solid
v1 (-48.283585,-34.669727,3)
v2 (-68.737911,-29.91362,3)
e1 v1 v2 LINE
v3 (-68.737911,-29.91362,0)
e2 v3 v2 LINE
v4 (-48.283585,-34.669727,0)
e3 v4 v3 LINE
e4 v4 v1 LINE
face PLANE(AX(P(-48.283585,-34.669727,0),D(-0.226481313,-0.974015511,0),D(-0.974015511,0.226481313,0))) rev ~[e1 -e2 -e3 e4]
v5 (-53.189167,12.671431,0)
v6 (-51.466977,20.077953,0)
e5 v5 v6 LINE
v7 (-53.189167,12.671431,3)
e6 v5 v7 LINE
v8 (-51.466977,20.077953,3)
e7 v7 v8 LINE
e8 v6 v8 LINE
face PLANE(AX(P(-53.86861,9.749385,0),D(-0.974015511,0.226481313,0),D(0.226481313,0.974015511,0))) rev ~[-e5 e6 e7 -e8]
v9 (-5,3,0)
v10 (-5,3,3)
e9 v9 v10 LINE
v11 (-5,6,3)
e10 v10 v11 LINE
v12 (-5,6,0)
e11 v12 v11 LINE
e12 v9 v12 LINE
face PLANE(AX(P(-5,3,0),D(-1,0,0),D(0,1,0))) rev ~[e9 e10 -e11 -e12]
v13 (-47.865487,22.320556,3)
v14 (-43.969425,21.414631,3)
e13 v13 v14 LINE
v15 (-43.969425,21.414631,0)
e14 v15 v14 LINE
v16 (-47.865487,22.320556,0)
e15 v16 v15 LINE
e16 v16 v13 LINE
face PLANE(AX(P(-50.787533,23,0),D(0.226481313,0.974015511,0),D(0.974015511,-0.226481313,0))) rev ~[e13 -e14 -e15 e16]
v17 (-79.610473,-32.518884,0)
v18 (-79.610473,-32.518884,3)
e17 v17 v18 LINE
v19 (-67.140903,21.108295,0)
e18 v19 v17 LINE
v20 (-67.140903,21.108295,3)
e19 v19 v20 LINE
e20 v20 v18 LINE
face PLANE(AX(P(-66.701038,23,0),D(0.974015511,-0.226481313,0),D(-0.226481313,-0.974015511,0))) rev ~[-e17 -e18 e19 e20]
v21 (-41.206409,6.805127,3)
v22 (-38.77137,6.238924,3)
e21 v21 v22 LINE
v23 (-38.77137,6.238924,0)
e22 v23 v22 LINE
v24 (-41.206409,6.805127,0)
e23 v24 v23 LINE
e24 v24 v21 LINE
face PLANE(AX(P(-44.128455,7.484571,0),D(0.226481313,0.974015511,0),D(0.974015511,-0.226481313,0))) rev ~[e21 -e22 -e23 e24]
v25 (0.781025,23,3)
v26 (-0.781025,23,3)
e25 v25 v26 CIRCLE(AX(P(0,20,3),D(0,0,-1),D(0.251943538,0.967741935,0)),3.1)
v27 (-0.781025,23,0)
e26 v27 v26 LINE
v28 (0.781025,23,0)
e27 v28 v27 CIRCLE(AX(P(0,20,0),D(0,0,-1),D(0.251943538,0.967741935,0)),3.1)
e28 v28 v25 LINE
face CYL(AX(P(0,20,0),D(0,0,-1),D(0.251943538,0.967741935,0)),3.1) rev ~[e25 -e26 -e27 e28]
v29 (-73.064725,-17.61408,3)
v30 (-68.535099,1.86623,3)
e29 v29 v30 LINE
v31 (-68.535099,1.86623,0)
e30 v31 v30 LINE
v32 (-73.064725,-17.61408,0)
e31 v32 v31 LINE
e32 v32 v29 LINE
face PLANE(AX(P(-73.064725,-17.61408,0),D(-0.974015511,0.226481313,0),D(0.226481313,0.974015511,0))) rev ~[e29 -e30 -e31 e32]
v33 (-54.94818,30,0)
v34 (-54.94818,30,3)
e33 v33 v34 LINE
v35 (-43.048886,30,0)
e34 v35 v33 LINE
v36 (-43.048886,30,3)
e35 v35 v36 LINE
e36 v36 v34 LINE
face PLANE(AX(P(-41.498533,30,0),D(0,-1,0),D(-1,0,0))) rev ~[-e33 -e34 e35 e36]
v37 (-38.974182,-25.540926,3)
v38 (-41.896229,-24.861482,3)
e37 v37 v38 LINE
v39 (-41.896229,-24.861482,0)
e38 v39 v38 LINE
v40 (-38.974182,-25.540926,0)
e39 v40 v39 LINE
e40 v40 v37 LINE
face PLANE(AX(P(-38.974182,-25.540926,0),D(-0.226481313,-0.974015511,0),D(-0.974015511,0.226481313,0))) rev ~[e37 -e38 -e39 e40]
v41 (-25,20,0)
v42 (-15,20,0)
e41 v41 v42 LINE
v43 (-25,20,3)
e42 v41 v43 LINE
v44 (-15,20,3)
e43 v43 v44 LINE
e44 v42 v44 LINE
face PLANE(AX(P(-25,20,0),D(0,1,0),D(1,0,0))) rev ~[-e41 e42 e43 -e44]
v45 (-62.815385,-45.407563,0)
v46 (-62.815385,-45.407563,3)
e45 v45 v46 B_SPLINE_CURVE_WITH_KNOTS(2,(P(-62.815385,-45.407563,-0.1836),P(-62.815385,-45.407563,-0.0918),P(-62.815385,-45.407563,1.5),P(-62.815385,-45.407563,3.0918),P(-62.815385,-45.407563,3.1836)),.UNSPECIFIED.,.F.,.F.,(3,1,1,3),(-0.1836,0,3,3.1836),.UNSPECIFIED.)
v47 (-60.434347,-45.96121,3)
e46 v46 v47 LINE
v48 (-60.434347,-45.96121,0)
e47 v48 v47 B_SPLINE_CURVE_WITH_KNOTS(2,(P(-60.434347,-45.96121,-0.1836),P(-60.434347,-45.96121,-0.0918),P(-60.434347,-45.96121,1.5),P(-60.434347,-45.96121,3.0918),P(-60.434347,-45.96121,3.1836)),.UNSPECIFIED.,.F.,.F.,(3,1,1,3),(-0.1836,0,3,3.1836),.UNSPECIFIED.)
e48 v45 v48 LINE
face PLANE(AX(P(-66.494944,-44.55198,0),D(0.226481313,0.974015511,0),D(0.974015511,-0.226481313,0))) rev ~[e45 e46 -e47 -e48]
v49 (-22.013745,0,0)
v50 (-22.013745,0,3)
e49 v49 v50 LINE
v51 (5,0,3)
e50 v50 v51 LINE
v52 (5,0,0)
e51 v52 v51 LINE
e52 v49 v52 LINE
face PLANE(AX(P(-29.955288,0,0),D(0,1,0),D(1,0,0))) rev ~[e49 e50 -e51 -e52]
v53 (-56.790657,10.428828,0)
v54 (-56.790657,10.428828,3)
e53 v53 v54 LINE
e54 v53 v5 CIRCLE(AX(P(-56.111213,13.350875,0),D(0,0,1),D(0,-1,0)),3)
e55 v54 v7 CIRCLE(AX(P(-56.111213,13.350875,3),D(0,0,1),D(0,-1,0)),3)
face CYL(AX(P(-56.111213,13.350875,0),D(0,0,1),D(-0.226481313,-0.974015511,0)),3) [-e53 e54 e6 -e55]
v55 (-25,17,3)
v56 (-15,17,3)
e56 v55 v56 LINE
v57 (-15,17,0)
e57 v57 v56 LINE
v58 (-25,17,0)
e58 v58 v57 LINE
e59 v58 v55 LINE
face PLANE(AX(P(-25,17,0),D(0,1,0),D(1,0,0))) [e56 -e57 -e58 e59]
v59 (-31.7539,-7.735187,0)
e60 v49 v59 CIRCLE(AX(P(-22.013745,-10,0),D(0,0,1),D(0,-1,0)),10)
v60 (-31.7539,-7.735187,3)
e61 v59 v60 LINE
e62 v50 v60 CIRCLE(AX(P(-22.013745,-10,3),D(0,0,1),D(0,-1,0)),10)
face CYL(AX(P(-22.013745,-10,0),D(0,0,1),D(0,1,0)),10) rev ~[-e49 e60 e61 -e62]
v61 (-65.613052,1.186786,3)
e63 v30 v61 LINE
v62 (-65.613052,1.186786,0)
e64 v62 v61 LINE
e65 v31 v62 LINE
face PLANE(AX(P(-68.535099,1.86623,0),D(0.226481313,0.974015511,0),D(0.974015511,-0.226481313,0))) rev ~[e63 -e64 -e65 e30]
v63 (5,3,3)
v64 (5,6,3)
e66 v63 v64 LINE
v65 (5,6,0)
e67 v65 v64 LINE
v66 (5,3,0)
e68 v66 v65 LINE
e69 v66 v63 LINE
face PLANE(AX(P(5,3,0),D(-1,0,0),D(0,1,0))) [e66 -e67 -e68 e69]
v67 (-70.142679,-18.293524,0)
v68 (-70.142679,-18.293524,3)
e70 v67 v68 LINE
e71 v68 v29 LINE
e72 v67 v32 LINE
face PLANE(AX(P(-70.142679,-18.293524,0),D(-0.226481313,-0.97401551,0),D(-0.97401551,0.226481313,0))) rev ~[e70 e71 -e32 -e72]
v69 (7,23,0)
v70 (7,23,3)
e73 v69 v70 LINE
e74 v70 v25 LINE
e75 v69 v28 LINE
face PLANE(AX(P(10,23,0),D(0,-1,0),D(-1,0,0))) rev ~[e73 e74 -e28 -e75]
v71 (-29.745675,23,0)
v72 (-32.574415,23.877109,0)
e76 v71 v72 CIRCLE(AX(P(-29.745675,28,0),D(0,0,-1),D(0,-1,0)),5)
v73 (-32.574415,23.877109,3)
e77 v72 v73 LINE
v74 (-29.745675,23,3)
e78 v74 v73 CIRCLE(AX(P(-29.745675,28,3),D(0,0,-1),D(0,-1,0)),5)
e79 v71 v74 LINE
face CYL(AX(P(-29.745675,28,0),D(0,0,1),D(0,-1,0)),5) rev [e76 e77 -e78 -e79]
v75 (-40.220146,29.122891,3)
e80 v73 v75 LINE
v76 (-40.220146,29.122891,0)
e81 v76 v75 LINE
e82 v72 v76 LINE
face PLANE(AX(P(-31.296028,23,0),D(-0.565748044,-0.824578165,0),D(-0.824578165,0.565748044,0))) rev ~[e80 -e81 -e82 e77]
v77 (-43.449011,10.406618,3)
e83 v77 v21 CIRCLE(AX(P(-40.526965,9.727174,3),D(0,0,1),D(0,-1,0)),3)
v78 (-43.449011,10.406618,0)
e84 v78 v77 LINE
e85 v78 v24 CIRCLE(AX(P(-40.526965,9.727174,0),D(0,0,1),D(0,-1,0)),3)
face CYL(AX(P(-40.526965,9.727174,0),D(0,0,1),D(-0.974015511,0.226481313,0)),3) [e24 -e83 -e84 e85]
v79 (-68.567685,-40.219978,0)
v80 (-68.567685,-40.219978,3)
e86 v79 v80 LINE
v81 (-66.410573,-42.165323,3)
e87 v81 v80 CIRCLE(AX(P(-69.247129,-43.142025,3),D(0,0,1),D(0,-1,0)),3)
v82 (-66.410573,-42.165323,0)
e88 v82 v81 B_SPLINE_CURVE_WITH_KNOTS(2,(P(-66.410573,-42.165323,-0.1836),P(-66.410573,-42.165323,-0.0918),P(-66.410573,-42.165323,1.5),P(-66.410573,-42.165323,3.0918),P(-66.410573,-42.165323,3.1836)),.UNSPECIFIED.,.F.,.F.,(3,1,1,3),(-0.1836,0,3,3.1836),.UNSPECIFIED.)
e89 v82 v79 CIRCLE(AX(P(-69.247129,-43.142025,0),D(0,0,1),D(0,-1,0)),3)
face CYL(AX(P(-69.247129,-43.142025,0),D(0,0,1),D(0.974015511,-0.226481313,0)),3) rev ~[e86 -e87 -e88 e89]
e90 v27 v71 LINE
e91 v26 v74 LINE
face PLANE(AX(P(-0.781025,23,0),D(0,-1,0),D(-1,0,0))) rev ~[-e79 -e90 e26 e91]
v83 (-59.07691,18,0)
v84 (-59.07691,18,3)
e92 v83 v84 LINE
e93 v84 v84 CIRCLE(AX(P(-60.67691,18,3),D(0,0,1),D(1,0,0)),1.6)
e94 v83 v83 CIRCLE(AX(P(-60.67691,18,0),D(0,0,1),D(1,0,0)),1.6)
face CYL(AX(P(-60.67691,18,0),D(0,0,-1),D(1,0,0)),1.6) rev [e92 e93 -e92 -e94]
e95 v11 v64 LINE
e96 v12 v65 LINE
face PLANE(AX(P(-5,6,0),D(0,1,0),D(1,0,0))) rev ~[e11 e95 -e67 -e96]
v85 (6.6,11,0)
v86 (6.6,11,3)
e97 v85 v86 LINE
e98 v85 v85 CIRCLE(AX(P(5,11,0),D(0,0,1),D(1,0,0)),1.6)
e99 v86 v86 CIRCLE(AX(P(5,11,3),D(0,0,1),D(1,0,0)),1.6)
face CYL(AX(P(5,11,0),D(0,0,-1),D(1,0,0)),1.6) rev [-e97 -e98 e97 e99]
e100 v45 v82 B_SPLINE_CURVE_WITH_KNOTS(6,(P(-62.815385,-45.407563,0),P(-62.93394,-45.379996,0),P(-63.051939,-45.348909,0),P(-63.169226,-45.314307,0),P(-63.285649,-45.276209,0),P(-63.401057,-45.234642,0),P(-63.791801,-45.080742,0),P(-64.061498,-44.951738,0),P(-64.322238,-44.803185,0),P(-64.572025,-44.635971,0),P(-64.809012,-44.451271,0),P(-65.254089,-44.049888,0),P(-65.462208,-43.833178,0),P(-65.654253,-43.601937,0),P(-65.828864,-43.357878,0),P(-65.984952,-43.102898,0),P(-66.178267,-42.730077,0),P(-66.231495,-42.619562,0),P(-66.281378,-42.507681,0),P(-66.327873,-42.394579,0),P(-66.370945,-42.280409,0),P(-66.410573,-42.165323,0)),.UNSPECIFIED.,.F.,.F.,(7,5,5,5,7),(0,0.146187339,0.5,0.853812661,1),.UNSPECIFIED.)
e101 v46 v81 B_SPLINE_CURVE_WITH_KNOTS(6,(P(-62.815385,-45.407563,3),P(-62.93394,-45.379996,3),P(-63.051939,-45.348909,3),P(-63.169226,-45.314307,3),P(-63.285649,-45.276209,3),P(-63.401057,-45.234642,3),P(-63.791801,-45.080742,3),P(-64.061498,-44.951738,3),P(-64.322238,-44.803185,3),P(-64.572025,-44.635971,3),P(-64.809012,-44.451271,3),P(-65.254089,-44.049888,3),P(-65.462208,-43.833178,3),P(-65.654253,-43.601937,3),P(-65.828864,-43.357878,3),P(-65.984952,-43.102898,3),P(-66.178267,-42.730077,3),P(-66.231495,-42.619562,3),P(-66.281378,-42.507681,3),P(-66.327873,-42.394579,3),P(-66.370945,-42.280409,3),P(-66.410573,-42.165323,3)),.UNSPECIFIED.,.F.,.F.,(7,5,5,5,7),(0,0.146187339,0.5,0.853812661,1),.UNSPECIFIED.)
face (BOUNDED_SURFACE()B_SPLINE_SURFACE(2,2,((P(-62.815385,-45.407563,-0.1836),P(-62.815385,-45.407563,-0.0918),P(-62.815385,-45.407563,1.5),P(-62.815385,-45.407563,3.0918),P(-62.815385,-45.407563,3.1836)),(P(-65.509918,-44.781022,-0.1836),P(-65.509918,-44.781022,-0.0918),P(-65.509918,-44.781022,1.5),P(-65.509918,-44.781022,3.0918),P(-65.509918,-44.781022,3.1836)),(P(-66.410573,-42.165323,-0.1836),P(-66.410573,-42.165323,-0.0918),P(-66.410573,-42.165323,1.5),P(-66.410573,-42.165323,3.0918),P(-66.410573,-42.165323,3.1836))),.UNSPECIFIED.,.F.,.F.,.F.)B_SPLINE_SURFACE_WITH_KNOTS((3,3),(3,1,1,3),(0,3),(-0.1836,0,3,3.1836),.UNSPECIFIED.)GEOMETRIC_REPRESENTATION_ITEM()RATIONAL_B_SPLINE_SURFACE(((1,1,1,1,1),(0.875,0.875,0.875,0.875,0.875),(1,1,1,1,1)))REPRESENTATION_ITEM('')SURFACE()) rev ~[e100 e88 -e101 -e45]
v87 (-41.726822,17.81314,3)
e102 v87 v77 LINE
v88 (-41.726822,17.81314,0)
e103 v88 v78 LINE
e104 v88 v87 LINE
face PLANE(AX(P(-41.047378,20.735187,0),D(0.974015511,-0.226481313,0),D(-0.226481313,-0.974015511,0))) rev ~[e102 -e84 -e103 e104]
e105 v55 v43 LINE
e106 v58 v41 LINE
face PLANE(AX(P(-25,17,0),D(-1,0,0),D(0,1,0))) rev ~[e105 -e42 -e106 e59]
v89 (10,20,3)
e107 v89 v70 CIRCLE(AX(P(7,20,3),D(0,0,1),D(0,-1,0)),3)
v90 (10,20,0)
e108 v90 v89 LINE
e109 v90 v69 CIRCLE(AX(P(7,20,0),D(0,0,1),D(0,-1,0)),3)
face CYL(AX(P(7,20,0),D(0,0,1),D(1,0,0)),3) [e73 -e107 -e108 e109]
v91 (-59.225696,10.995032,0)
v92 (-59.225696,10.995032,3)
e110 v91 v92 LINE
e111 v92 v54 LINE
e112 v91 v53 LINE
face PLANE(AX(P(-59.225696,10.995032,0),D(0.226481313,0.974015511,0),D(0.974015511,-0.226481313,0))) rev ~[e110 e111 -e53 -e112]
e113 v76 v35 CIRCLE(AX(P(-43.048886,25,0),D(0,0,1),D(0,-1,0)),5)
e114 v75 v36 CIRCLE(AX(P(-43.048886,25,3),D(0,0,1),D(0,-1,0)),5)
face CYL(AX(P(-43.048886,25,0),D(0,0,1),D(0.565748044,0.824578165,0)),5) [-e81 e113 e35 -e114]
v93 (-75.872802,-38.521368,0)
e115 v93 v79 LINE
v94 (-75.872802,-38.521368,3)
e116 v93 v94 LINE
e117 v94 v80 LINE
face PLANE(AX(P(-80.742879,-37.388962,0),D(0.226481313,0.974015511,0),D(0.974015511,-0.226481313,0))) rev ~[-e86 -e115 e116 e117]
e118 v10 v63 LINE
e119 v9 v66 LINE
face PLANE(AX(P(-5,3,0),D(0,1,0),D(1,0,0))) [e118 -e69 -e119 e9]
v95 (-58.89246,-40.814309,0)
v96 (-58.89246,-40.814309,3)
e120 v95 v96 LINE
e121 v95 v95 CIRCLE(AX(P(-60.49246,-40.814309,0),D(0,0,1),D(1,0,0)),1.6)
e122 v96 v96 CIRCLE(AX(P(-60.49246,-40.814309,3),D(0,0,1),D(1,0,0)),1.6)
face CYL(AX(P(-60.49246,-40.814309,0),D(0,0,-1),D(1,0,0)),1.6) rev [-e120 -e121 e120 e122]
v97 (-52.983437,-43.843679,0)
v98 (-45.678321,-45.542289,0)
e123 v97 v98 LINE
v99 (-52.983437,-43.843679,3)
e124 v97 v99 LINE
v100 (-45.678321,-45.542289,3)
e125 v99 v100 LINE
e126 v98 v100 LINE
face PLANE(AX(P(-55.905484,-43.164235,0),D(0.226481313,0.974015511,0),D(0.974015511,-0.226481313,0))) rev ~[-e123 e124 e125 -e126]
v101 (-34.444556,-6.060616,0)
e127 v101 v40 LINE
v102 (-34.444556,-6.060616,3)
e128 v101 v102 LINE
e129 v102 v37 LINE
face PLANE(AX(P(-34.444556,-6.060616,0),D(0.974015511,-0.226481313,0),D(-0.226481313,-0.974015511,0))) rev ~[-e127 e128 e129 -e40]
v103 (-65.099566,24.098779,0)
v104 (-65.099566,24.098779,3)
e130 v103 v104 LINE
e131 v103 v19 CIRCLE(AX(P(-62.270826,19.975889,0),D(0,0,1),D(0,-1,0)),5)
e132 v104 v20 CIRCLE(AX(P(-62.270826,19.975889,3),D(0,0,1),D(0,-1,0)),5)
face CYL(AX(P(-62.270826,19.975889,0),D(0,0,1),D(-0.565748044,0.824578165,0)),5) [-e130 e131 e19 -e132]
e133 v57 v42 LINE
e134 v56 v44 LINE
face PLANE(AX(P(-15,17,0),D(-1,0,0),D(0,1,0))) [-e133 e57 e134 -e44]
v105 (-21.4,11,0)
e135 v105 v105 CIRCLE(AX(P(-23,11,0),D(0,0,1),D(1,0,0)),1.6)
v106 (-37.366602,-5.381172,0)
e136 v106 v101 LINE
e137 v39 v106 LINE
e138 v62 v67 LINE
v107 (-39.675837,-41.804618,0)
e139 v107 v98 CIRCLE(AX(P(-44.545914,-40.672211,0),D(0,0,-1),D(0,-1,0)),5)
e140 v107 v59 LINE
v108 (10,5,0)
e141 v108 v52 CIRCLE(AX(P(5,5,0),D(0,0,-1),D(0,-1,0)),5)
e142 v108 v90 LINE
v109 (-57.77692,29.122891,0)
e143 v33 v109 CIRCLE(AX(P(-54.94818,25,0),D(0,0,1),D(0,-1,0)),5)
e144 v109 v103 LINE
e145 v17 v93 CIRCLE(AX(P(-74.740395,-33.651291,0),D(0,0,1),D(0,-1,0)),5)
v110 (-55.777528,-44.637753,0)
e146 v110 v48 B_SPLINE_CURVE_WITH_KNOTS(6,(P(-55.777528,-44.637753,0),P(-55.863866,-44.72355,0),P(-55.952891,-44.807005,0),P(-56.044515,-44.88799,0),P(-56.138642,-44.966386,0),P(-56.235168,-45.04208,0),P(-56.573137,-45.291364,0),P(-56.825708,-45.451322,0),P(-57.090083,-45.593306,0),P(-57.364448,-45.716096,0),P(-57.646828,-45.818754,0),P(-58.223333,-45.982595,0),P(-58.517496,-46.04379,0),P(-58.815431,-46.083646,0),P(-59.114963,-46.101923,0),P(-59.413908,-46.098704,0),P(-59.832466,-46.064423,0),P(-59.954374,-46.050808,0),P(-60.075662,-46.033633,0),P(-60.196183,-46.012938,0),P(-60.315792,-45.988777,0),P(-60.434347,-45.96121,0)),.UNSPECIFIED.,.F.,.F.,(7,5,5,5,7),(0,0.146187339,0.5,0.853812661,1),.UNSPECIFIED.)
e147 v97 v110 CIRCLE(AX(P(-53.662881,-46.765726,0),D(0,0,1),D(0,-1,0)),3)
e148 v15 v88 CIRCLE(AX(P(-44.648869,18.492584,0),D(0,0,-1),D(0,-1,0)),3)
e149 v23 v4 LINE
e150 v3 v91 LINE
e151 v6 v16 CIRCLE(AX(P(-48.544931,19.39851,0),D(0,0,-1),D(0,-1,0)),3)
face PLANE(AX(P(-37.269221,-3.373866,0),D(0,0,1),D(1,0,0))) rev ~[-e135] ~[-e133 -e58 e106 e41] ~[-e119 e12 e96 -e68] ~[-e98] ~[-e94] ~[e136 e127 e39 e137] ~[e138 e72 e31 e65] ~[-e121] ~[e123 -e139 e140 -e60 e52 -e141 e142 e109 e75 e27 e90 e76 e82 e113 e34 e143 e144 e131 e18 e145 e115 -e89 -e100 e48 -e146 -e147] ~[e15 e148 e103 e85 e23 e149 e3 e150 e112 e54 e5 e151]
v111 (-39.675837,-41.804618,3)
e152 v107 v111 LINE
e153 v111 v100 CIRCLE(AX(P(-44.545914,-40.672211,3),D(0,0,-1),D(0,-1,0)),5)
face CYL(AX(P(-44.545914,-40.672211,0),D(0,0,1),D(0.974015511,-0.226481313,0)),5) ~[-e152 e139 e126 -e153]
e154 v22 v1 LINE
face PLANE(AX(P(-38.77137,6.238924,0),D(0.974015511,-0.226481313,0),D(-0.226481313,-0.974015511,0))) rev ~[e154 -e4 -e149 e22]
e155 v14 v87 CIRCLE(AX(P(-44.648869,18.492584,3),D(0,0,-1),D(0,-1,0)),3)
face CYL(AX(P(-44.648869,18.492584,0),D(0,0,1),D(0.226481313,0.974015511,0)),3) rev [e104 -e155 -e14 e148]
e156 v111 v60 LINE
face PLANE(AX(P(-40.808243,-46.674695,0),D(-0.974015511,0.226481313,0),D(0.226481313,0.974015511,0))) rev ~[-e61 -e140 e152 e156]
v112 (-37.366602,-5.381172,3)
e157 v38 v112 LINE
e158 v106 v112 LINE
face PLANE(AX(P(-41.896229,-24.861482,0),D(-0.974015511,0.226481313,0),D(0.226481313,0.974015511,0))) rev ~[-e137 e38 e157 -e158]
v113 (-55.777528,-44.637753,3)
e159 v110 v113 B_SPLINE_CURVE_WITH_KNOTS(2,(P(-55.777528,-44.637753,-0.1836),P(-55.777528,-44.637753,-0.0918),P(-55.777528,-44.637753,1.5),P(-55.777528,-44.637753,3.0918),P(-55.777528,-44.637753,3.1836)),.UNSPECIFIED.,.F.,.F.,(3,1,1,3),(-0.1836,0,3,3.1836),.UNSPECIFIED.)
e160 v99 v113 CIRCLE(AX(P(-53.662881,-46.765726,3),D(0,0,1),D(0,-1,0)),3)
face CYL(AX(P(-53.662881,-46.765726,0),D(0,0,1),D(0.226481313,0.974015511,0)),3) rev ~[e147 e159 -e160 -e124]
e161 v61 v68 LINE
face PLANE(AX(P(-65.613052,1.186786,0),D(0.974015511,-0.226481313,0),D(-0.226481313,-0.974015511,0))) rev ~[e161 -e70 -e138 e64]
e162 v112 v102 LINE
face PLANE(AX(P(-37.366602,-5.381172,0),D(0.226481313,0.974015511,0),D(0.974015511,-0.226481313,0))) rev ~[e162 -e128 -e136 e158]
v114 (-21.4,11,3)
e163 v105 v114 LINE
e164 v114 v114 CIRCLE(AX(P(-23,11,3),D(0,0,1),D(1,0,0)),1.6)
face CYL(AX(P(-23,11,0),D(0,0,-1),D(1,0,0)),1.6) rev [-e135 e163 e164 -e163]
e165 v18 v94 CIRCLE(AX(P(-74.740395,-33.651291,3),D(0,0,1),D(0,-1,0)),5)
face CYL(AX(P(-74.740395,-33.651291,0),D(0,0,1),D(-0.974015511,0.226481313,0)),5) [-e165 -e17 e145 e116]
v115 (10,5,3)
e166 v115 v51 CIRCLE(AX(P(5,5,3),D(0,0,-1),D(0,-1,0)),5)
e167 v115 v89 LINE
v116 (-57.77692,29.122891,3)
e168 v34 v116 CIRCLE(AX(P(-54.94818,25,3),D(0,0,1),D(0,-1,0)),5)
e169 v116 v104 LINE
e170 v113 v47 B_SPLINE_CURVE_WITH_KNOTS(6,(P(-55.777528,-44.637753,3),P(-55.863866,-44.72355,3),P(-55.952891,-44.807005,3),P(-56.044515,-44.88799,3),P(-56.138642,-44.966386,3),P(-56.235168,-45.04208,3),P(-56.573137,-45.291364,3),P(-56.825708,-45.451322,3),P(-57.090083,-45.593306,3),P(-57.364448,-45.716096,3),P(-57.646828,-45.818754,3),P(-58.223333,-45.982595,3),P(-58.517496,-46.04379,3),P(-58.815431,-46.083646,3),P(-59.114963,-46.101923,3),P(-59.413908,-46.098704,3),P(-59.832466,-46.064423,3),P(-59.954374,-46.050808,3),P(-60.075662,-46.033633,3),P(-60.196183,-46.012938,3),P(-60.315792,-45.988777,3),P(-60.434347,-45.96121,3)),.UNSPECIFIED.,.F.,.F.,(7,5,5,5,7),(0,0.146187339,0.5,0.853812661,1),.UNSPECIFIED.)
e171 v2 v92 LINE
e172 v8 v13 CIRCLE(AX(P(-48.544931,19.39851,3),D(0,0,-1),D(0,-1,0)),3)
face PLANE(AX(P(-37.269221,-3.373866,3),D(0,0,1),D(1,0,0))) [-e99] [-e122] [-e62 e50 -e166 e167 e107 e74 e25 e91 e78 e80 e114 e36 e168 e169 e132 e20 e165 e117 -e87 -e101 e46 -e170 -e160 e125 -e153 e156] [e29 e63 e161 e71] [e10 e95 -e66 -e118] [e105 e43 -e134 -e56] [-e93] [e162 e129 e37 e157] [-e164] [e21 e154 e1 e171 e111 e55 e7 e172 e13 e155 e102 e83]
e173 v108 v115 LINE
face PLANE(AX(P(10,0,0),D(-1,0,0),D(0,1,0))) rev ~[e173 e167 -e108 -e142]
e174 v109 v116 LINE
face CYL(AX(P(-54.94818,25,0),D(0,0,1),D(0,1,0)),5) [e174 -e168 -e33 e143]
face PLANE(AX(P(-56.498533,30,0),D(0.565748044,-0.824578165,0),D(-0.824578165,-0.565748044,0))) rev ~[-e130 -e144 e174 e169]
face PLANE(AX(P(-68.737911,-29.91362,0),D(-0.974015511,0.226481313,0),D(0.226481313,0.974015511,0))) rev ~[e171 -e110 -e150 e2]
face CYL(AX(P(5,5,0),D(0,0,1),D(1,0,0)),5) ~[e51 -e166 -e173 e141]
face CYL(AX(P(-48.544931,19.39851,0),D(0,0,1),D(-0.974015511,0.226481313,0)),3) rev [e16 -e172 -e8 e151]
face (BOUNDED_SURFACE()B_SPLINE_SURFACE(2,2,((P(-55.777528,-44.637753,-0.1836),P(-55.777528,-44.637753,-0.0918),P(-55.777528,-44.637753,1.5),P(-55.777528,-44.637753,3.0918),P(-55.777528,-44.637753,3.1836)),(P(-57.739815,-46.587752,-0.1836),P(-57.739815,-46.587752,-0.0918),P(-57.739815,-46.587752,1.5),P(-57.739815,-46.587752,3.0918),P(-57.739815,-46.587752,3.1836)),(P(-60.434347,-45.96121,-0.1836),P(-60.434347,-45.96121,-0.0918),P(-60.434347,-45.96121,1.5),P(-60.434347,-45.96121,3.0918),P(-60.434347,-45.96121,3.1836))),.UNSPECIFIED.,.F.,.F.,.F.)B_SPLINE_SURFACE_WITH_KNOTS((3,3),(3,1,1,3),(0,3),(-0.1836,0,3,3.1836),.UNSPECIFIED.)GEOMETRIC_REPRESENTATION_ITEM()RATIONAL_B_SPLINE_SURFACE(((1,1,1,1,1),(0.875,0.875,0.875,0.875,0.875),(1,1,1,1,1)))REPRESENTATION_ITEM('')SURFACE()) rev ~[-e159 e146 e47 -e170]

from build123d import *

# Parameters (mm, degrees)
ESBO_O1_R                = 1.6
ESBO_O1_W                = 10
ESBO_O1_H                = 3
RESSALTO_EXTRUS_O1_DEPTH = 3
FILETE1_R                = 5
FILETE3_R                = 3
FILETE4_R                = 10
FILETE2_R                = 5


with BuildPart() as part:
    # Esboço1 → Ressalto-extrusão1 (new body)
    with BuildSketch(Plane.XY):
        with BuildLine():
            Line((-0.781024968, 23), (-31.296028058, 23))
            Line((-31.296028058, 23), (-41.498532893, 30))
            Line((-41.498532893, 30), (-56.498532893, 30))
            Line((-56.498532893, 30), (-66.701037728, 23))
            Line((-66.701037728, 23), (-80.742879141, -37.388961655))
            Line((-80.742879141, -37.388961655), (-65.645638728, -40.899422008))
            Line((-65.645638728, -40.899422008), (-66.494943652, -44.551980173))
            Line((-66.494943652, -44.551980173), (-56.754788546, -46.816793304))
            Line((-56.754788546, -46.816793304), (-55.905483622, -43.164235139))
            Line((-55.905483622, -43.164235139), (-40.808243208, -46.674695492))
            Line((-40.808243208, -46.674695492), (-29.955288394, 0))
            Line((-29.955288394, 0), (10, 0))
            Line((10, 0), (10, 23))
            Line((10, 23), (0.781024968, 23))
            ThreePointArc((0.781024968, 23), (0, 16.9), (-0.781024968, 23))
        make_face()
        with Locations((-60.492459533, -40.814309185)):
            Circle(ESBO_O1_R, mode=Mode.SUBTRACT)
        Polygon((-34.444555902, -6.06061562), (-38.974182165, -25.540925831), (-41.896228696, -24.861481892), (-37.366602434, -5.381171681), align=None, mode=Mode.SUBTRACT)
        Polygon((-70.142678503, -18.293523812), (-73.064725034, -17.614079872), (-68.535098772, 1.866230339), (-65.61305224, 1.1867864), align=None, mode=Mode.SUBTRACT)
        Polygon((-53.868610446, 9.749384541), (-50.787533444, 23), (-41.047378339, 20.735186869), (-44.12845534, 7.48457141), (-38.771370032, 6.238924188), (-48.283585183, -34.669727256), (-68.737910905, -29.91361968), (-59.225695754, 10.995031763), align=None, mode=Mode.SUBTRACT)
        with Locations((-60.676910422, 18)):
            Circle(ESBO_O1_R, mode=Mode.SUBTRACT)
        with Locations((0, 4.5)):
            Rectangle(ESBO_O1_W, ESBO_O1_H, mode=Mode.SUBTRACT)
        with Locations((-23, 11)):
            Circle(ESBO_O1_R, mode=Mode.SUBTRACT)
        with Locations((-20, 18.5)):
            Rectangle(ESBO_O1_W, ESBO_O1_H, mode=Mode.SUBTRACT)
        with Locations((5, 11)):
            Circle(ESBO_O1_R, mode=Mode.SUBTRACT)
    extrude(amount=RESSALTO_EXTRUS_O1_DEPTH)

    # Filete1
    filete1_edges = [part.edges().sort_by_distance(p)[0] for p in [
        (10, 0, 1.5),
        (-40.808243208, -46.674695492, 1.5),
        (-80.742879141, -37.388961655, 1.5),
    ]]
    fillet(filete1_edges, radius=FILETE1_R)

    # Filete3
    filete3_edges = [part.edges().sort_by_distance(p)[0] for p in [
        (10, 23, 1.5),
        (-55.905483622, -43.164235139, 1.5),
        (-65.645638728, -40.899422008, 1.5),
        (-53.868610446, 9.749384541, 1.5),
        (-44.12845534, 7.48457141, 1.5),
        (-41.047378339, 20.735186869, 1.5),
        (-50.787533444, 23, 1.5),
    ]]
    fillet(filete3_edges, radius=FILETE3_R)

    # Filete4
    filete4_edges = [part.edges().sort_by_distance(p)[0] for p in [
        (-29.955288394, 0, 1.5),
    ]]
    fillet(filete4_edges, radius=FILETE4_R)

    # Filete2
    filete2_edges = [part.edges().sort_by_distance(p)[0] for p in [
        (-56.754788546, -46.816793304, 1.5),
        (-66.494943652, -44.551980173, 1.5),
        (-31.296028058, 23, 1.5),
        (-41.498532893, 30, 1.5),
        (-56.498532893, 30, 1.5),
        (-66.701037728, 23, 1.5),
    ]]
    fillet(filete2_edges, radius=FILETE2_R)


solid = part.part
